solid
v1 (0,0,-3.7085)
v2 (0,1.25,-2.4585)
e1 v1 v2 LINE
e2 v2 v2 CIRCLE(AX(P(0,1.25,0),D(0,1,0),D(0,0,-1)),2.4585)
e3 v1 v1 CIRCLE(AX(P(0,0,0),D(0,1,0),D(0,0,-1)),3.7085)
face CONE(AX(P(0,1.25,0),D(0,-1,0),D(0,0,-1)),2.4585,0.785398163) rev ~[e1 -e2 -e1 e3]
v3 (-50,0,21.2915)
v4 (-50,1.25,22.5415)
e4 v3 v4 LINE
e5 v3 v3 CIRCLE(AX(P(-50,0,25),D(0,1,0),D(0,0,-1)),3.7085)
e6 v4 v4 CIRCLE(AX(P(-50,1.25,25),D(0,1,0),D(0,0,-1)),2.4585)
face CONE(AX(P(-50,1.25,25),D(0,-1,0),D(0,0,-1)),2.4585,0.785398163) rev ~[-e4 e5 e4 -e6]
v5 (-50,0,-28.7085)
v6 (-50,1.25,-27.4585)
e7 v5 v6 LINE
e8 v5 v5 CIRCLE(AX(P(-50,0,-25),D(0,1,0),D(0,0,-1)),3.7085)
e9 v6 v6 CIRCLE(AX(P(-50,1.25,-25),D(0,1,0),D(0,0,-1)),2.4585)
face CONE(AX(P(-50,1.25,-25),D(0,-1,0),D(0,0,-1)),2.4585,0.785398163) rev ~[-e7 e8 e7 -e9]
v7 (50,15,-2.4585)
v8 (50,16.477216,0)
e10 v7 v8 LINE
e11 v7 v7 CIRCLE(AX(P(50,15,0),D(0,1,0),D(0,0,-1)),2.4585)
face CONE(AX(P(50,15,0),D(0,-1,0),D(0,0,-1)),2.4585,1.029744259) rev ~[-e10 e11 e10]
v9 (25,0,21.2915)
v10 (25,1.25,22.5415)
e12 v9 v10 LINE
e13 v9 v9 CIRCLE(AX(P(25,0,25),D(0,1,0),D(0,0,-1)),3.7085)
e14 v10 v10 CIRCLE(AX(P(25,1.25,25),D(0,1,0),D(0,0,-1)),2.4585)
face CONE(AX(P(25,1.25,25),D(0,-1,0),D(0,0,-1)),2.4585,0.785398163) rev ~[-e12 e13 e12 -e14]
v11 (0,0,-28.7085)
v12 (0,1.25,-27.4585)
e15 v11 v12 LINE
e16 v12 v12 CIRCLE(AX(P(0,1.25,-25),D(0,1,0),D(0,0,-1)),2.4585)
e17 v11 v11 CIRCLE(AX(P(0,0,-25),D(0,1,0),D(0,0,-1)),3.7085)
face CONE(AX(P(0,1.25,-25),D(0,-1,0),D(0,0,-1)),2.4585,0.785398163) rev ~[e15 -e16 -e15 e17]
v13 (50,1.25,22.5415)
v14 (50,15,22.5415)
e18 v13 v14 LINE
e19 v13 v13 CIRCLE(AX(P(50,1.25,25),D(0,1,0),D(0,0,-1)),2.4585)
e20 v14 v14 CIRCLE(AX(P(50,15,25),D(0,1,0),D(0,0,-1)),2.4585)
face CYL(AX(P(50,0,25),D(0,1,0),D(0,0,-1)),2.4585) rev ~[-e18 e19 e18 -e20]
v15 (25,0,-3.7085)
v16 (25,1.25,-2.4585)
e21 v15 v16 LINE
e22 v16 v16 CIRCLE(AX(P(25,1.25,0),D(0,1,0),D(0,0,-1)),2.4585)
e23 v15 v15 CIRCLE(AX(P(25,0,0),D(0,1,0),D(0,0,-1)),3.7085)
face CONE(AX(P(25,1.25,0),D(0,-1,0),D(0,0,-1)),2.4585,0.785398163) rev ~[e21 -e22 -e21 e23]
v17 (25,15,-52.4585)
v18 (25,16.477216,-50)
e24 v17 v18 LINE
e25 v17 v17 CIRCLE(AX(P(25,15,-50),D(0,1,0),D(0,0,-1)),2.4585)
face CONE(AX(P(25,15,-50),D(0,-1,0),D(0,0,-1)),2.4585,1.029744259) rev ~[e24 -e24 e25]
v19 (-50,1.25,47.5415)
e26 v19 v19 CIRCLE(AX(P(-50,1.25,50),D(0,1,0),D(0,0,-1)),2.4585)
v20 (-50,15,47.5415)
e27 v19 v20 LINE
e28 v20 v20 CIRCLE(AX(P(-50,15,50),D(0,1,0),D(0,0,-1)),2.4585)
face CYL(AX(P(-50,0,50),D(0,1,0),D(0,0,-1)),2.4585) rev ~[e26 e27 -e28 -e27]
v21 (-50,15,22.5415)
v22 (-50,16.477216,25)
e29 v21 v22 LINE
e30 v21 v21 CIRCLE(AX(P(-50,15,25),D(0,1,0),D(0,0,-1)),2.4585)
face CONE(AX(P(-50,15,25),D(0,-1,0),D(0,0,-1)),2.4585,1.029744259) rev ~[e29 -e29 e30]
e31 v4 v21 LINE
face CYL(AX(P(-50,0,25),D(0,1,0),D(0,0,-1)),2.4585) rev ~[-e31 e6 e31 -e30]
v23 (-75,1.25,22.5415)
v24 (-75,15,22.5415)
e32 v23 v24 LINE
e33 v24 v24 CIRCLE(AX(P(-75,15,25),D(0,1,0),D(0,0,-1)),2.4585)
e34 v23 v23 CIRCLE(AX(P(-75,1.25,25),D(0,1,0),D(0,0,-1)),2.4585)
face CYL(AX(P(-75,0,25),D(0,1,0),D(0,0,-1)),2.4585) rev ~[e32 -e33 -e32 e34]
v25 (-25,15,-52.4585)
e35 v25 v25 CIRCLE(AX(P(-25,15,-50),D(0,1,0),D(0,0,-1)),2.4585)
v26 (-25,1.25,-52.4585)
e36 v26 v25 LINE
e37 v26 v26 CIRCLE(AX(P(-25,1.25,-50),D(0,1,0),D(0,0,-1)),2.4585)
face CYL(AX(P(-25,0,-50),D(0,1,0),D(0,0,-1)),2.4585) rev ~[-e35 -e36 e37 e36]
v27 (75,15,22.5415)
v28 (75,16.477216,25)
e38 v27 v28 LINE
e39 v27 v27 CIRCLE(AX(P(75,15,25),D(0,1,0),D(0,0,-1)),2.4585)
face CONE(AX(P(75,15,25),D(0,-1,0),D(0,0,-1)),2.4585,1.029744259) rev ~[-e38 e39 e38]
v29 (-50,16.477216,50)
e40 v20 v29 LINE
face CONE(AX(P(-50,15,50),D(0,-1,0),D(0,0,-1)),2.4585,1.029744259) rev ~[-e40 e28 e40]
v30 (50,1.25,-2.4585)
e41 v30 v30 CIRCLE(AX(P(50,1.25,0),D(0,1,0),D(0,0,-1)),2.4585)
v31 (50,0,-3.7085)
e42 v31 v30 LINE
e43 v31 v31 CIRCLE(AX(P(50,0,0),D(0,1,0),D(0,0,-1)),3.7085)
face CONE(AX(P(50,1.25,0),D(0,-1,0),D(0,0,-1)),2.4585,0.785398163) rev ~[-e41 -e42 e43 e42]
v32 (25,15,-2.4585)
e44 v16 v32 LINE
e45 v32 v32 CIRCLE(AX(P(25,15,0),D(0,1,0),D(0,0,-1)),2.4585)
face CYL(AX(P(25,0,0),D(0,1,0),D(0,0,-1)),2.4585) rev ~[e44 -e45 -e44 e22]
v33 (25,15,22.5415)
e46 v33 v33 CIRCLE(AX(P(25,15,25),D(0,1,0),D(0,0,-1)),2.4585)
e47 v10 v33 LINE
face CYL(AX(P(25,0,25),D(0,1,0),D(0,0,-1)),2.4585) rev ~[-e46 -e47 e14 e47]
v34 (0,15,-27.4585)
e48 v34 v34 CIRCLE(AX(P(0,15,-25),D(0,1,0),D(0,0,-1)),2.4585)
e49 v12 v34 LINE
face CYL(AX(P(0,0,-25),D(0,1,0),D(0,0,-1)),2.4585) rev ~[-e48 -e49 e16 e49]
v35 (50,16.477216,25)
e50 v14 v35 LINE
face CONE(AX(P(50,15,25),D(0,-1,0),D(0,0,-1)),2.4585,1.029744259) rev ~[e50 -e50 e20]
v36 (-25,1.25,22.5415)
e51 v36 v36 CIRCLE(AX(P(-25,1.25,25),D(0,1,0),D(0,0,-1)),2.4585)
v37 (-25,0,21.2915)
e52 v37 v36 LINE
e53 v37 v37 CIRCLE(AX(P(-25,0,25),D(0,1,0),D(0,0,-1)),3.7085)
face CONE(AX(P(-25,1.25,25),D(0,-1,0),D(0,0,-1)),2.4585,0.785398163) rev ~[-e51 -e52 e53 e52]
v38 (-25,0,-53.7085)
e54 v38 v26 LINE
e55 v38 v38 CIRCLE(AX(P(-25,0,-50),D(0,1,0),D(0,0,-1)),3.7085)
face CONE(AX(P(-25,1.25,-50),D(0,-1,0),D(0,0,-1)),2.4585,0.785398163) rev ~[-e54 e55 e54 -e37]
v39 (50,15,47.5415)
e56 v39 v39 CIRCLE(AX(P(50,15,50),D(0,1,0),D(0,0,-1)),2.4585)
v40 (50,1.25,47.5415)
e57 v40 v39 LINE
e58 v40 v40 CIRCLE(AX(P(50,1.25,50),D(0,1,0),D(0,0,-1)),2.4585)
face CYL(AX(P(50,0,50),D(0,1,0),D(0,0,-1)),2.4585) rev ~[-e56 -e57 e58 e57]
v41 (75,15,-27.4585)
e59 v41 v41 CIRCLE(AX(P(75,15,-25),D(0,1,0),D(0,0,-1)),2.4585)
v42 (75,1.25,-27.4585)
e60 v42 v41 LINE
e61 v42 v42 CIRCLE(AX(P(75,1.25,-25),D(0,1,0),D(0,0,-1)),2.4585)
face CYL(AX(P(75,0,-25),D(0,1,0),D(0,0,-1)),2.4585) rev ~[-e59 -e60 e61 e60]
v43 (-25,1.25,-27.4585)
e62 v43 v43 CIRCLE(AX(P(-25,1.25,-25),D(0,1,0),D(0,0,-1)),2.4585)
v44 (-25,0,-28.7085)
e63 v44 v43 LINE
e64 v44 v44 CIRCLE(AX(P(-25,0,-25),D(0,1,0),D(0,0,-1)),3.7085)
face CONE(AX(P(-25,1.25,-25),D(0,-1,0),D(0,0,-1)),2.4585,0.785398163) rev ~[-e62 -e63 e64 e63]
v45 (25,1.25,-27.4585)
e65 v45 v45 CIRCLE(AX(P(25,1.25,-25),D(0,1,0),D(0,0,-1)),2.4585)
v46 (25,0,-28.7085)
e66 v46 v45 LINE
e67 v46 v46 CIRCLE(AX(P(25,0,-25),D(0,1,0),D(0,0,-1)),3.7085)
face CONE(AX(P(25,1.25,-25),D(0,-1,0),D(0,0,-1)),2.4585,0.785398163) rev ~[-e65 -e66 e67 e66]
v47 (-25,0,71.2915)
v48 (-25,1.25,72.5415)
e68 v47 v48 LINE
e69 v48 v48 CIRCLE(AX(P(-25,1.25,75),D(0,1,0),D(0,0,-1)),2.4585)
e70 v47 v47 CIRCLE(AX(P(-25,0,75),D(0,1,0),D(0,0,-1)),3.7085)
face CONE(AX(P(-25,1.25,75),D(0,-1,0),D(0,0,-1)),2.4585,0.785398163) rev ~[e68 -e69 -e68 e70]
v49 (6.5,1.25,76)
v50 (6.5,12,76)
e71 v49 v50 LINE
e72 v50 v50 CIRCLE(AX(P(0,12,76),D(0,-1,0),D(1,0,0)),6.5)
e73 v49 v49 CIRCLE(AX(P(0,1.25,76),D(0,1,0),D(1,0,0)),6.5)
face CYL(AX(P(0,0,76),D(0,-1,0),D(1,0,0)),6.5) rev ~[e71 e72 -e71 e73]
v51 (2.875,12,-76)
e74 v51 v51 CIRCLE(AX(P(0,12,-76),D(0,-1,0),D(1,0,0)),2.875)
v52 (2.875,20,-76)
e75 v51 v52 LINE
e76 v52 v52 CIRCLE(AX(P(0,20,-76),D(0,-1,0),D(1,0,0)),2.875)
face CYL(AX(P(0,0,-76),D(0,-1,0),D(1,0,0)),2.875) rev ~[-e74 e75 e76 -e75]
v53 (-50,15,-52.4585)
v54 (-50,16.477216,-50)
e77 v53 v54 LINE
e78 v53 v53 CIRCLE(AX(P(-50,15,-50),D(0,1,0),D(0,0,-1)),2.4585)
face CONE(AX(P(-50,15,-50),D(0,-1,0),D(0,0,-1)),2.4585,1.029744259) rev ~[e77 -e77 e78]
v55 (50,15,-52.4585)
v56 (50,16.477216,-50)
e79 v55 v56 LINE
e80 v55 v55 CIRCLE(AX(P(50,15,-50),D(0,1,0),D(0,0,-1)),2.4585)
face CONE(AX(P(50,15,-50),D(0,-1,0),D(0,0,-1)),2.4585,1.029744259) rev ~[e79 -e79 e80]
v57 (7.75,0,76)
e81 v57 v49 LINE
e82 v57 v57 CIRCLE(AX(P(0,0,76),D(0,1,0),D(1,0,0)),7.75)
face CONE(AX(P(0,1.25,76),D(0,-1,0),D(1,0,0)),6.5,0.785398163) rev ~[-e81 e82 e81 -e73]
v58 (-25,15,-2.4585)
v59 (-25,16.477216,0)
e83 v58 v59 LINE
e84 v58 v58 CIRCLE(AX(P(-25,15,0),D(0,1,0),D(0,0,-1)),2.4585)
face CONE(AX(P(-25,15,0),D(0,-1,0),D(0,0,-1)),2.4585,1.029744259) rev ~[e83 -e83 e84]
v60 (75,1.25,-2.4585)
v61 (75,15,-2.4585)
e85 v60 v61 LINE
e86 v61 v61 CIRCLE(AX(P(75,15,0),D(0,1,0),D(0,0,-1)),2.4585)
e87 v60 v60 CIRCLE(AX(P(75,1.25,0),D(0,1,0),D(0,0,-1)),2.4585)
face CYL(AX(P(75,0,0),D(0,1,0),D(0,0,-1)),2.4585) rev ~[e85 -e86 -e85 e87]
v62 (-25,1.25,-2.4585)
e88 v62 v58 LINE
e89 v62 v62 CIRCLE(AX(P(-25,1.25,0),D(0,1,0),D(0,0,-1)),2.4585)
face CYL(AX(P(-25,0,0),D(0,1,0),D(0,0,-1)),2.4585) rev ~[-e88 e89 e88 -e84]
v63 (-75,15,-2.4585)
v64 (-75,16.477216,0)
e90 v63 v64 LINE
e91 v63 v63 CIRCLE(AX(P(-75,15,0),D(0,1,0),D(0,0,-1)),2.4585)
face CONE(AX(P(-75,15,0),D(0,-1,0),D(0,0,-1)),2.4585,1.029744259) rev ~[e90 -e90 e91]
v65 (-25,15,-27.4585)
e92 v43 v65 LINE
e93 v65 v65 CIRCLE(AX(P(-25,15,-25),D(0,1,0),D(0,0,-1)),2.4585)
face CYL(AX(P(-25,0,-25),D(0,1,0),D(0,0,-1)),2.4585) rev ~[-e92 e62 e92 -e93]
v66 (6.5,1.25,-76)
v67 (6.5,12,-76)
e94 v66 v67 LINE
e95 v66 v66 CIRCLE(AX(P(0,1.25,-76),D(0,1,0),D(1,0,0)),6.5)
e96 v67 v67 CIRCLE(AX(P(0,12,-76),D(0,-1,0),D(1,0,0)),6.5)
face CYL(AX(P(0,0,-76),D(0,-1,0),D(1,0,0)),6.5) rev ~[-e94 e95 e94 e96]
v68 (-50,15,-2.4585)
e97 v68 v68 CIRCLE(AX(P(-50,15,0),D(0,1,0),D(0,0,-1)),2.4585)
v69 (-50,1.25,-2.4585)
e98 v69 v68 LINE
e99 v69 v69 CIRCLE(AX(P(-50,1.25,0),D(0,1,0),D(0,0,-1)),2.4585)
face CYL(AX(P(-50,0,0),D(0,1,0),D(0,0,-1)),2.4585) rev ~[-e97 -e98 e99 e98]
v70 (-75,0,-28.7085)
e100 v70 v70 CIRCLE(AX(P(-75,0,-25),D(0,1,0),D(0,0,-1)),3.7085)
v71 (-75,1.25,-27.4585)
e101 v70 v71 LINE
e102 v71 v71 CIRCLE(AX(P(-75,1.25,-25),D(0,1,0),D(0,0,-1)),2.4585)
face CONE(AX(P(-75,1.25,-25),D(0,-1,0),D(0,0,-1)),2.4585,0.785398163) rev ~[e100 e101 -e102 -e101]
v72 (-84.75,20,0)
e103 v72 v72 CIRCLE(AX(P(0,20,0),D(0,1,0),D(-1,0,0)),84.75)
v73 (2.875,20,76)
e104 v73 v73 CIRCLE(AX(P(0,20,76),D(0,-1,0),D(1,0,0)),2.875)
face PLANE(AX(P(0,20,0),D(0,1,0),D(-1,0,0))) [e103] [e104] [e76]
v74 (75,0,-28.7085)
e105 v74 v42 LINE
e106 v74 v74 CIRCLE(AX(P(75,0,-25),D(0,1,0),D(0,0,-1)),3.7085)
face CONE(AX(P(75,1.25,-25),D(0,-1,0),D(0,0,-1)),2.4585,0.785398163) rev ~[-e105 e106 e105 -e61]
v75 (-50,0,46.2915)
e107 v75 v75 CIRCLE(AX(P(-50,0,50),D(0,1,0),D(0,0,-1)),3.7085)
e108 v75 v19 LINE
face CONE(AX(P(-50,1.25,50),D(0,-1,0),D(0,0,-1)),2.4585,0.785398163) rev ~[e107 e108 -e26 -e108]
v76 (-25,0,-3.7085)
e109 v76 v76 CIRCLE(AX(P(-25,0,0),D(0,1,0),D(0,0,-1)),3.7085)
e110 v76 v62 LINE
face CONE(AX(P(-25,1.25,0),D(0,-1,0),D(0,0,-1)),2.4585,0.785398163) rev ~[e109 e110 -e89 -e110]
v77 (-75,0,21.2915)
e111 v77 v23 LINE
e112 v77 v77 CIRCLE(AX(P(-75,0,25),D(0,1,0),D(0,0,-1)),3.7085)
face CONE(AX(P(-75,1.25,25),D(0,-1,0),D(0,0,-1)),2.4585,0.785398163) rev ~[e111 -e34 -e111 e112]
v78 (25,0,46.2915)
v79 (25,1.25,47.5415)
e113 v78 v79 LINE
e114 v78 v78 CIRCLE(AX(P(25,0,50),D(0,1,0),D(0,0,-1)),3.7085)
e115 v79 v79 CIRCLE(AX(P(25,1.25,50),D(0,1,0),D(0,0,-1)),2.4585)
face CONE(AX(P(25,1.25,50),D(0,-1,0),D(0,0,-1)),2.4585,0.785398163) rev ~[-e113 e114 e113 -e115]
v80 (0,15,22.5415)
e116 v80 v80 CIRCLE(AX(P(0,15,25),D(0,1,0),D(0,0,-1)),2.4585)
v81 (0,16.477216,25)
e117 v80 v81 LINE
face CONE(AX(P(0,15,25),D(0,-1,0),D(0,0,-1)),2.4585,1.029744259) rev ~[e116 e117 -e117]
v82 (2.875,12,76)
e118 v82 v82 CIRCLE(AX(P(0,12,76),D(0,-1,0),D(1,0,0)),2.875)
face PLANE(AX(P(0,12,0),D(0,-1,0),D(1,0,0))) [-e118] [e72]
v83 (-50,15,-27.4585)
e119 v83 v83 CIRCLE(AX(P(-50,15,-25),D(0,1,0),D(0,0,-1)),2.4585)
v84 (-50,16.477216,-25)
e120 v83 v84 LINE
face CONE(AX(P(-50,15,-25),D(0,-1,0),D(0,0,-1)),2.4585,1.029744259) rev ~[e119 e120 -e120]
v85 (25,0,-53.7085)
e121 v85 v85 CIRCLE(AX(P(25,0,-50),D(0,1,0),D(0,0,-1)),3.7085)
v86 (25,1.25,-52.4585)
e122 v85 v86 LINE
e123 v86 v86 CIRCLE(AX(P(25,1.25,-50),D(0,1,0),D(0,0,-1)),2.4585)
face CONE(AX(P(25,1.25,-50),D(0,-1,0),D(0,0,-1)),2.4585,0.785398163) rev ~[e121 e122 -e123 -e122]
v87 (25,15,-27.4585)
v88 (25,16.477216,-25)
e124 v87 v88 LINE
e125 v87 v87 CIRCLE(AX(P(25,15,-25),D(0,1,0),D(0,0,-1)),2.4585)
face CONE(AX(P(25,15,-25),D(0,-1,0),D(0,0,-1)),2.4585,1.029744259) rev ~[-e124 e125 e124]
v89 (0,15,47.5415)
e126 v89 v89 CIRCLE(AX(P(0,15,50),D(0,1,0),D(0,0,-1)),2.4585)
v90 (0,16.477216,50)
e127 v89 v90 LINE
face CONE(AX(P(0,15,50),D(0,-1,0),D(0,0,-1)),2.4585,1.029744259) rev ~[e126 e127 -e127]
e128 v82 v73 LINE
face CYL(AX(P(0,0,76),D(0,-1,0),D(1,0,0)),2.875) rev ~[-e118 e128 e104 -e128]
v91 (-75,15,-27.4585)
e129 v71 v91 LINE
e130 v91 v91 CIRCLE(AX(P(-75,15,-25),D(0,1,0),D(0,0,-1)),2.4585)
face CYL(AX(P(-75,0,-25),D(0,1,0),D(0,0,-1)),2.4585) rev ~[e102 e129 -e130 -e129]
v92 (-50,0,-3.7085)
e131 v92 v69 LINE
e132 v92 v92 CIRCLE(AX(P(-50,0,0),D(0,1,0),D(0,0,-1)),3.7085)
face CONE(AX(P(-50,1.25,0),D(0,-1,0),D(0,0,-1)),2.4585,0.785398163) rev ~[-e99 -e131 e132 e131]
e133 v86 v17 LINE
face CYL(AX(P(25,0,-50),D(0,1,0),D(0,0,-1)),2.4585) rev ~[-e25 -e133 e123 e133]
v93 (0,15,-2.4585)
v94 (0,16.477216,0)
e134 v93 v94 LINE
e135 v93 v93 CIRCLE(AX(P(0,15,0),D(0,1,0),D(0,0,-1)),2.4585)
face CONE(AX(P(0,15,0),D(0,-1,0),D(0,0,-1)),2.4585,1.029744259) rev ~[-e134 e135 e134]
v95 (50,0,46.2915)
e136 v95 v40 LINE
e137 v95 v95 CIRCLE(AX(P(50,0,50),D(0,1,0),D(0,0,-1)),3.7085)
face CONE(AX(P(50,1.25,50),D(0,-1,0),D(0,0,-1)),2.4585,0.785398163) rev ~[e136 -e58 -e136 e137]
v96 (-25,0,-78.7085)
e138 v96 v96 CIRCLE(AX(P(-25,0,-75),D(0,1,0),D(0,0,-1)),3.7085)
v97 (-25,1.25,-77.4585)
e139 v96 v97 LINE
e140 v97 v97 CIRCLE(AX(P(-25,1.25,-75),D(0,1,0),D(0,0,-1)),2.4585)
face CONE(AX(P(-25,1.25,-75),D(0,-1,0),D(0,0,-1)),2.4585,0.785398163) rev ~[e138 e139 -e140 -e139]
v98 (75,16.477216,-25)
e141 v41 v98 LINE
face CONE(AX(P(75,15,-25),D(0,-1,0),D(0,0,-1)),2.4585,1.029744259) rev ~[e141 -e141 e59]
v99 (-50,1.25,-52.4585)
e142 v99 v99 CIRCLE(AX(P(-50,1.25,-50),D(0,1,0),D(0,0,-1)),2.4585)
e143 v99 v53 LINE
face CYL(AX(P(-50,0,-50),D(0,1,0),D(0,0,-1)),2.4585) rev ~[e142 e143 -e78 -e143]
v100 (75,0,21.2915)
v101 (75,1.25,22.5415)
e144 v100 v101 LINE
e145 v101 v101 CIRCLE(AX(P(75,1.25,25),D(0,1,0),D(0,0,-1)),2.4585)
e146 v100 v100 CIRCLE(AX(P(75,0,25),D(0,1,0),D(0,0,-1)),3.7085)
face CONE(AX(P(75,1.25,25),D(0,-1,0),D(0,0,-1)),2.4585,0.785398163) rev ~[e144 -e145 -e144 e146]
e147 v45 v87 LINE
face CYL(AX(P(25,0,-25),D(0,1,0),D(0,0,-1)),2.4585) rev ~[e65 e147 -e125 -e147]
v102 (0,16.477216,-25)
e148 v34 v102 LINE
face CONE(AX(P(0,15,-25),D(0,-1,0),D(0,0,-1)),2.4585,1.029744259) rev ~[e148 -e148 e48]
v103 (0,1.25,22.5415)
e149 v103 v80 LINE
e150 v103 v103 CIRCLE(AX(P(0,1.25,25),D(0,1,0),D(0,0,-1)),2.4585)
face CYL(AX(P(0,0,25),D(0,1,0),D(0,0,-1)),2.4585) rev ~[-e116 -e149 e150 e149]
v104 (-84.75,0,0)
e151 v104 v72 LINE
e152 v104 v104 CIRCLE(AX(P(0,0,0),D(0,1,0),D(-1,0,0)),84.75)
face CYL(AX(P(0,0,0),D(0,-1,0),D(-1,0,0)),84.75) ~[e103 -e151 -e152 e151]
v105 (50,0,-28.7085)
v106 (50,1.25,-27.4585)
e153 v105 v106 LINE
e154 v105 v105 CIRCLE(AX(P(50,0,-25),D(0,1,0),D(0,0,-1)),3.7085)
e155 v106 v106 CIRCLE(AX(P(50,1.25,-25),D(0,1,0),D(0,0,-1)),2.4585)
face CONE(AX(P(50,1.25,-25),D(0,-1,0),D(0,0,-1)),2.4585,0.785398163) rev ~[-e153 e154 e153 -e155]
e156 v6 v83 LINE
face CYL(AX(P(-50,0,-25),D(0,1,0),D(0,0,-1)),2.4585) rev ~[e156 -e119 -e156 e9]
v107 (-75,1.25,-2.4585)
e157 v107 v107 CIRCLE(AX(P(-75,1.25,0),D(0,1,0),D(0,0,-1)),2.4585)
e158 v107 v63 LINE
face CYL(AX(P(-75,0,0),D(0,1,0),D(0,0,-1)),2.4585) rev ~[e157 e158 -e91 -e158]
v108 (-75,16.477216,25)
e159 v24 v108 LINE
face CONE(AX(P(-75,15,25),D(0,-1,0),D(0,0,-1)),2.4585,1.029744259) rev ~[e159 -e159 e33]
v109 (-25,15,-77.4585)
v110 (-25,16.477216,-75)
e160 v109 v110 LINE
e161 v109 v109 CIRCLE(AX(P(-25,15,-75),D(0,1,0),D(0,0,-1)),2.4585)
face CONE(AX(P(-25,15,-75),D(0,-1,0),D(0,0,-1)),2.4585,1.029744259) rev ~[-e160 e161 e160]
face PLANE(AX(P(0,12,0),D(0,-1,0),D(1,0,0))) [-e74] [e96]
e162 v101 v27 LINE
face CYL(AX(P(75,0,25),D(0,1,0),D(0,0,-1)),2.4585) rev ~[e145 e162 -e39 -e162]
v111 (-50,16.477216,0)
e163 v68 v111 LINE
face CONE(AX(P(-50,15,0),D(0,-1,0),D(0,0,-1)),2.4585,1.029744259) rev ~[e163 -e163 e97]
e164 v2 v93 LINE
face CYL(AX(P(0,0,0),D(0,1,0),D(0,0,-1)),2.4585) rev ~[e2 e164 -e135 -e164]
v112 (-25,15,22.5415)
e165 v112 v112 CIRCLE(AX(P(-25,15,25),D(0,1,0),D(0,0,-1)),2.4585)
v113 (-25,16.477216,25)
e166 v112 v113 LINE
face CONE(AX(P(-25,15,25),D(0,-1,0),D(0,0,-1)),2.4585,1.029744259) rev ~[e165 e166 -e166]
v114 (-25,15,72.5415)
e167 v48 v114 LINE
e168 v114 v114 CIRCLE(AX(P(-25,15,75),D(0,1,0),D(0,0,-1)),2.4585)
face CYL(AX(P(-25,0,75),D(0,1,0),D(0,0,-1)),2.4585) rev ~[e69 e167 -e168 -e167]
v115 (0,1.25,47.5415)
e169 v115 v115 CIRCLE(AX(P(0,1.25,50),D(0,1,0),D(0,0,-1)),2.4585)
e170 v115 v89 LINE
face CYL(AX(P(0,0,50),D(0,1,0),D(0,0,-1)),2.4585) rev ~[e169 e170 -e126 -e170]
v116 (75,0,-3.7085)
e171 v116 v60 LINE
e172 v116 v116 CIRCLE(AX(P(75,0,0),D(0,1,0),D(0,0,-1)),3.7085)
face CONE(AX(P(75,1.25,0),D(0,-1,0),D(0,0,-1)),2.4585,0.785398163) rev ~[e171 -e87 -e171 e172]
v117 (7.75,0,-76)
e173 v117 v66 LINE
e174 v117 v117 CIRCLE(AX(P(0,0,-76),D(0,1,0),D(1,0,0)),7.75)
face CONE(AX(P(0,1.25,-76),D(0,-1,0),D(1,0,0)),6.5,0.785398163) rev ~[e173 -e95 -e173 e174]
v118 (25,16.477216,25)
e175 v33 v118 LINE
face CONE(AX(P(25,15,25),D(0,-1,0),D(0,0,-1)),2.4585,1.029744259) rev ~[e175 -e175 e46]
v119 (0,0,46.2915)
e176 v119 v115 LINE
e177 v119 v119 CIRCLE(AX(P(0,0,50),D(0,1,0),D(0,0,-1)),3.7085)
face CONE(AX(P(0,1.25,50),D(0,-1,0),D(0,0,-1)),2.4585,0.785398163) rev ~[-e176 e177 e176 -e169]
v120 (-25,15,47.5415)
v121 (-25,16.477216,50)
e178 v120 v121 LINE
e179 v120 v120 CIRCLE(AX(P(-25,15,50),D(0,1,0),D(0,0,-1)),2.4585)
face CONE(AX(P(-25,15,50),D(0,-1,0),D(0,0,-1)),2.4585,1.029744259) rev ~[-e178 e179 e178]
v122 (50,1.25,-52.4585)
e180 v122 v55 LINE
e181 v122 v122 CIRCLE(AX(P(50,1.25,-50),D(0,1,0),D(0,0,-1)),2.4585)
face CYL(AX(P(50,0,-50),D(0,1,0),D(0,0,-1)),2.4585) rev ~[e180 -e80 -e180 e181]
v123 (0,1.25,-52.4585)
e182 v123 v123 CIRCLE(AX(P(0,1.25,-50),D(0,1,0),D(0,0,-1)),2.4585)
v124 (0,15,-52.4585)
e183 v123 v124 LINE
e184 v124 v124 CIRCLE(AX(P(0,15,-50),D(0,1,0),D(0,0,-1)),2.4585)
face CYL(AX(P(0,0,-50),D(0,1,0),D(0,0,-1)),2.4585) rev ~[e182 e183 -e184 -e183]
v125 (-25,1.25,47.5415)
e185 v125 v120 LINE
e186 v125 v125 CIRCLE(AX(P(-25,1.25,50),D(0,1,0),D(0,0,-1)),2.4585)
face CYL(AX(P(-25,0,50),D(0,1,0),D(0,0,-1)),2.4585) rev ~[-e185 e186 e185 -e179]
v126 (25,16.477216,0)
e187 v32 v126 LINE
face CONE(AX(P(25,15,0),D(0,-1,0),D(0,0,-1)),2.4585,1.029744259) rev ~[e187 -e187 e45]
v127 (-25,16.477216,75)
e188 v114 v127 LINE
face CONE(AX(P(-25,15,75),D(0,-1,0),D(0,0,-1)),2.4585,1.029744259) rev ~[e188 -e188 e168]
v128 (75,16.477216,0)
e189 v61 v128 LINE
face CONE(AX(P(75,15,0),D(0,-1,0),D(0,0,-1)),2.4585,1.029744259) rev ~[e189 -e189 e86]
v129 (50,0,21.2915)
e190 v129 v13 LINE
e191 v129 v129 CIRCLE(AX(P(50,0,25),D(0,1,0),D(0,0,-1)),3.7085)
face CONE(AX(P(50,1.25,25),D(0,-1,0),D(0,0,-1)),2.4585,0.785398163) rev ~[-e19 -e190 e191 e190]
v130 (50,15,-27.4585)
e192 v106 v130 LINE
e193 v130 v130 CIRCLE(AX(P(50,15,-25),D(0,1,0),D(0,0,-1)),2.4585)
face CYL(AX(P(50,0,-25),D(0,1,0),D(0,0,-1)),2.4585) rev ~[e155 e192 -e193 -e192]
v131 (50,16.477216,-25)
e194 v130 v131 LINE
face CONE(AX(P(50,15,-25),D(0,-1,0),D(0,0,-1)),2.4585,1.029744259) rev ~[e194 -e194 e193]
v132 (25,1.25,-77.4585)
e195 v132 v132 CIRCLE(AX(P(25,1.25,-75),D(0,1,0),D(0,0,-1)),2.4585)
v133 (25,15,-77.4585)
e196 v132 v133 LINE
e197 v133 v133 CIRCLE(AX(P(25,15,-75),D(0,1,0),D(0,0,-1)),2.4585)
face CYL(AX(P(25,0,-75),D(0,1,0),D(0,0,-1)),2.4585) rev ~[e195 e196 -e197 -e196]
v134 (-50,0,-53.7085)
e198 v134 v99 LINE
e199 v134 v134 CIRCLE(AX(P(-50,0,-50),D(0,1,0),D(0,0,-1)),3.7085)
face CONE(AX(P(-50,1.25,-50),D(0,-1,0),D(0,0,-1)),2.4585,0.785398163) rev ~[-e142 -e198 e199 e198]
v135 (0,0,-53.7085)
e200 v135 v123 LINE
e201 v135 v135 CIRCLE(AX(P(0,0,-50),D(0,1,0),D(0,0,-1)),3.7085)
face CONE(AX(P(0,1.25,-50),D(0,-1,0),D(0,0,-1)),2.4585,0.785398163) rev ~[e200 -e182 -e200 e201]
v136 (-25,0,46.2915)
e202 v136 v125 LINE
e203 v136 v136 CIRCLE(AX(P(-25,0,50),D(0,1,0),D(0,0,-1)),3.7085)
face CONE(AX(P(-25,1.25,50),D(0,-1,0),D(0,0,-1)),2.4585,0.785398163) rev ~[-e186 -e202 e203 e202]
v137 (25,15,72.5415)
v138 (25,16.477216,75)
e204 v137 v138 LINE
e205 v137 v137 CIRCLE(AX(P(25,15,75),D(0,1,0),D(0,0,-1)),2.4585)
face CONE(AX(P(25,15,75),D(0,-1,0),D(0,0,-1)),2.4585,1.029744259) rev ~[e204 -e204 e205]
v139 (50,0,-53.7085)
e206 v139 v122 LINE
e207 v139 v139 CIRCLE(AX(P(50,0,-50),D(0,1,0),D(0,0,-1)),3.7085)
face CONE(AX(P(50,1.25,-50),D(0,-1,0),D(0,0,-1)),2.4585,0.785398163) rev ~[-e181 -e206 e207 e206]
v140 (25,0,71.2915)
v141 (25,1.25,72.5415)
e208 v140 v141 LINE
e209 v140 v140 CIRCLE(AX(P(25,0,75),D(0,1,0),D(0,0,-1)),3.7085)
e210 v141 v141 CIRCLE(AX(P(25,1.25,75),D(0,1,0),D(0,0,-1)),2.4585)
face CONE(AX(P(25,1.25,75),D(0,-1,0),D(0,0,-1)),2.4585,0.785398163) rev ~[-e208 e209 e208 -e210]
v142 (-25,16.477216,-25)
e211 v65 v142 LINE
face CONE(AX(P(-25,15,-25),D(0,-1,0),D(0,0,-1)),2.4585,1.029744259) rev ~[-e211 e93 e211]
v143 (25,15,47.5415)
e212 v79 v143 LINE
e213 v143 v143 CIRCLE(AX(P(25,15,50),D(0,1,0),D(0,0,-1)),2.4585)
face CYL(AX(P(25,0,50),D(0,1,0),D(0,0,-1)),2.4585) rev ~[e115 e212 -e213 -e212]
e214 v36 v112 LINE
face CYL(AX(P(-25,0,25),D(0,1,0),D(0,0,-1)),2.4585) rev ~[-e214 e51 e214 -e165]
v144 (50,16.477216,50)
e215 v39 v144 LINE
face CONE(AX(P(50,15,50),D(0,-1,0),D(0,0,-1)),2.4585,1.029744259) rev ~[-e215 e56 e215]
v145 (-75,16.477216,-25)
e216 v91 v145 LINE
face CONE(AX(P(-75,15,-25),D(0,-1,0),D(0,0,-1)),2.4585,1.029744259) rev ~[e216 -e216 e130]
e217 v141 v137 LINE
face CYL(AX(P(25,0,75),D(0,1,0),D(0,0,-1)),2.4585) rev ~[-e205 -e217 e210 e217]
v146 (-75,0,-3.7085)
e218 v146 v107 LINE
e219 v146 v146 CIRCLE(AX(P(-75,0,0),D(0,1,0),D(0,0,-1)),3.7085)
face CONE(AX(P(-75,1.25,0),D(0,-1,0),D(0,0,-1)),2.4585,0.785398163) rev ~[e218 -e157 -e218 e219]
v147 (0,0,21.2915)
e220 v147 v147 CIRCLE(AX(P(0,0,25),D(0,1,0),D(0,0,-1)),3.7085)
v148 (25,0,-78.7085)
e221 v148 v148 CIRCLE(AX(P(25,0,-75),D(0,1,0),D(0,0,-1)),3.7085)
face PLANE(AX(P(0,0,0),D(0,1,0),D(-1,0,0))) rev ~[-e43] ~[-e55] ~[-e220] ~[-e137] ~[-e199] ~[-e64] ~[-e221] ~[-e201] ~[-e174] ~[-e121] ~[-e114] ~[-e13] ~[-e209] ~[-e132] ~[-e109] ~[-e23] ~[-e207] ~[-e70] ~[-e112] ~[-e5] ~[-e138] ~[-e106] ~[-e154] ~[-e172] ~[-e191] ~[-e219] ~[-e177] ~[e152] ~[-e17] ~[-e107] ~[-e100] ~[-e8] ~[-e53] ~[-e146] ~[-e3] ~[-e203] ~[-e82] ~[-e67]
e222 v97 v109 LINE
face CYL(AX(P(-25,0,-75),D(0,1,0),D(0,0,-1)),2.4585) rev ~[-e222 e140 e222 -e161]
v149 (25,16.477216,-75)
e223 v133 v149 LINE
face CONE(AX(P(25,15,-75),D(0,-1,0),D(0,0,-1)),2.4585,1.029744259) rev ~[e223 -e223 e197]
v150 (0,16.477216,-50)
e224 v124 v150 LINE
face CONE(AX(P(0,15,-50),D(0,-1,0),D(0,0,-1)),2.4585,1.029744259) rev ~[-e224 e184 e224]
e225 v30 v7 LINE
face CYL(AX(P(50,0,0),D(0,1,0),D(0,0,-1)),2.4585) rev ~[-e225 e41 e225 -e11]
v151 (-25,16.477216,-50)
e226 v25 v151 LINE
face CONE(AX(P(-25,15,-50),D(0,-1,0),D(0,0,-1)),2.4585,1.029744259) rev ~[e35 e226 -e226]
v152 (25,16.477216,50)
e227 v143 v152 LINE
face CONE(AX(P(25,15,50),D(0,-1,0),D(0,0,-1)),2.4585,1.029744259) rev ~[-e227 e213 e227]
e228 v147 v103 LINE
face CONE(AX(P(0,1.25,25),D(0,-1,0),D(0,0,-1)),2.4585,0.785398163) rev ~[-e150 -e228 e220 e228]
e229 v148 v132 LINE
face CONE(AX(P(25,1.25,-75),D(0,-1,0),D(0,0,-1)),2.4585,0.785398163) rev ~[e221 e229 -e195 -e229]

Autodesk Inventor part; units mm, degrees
ref_plane "YZ Plane" through (0, 0, 0) normal (1, 0, 0) x (0, 1, 0)
ref_plane "XZ Plane" through (0, 0, 0) normal (0, 1, 0) x (-1, 0, 0)
ref_plane "XY Plane" through (0, 0, 0) normal (0, 0, 1) x (1, 0, 0)
sketch "Sketch1" plane through (0, 0, 0) normal (0, 1, 0) x (-1, 0, 0)
  circle A0 centre (0, 0) radius 84.75
  dimension "d0" = 169.5
extrude "Extrusion1" add sketch "Sketch1" along normal blind 20
sketch "Sketch2" plane through (0, 0, 0) normal (0, -1, 0) x (1, 0, 0)
  circle A0 centre (0, 0) radius 76
  circle A1 centre (0, 76) radius 6.5
  circle A2 centre (0, -76) radius 6.5
  circle A3 centre (0, 76) radius 2.875
  circle A4 centre (0, -76) radius 2.875
  dimension "d3" = 152
  dimension "d4" = 13
  dimension "d5" = 13
  dimension "d6" = 5.75
  dimension "d7" = 5.75
extrude "Extrusion2" cut sketch "Sketch2" against normal through all contours A3 A0 | A0 A3 | A4 A0 | A0 A4
extrude "Extrusion3" cut sketch "Sketch2" against normal blind 12 contours A1 A0 A3 | A0 A3 A1 | A2 A0 A4 | A0 A4 A2 | A3 A0 | A0 A3 | A4 A0 | A0 A4
sketch "Sketch3" plane through (0, 0, 0) normal (0, -1, 0) x (1, 0, 0)
  circle A0 centre (0, 0) radius 84.75 projected
  line L0 (59.9273, -59.9273) -> (59.9273, 59.9273)
  line L1 (59.9273, 59.9273) -> (-59.9273, 59.9273)
  line L2 (-59.9273, 59.9273) -> (-59.9273, -59.9273)
  line L3 (-59.9273, -59.9273) -> (59.9273, -59.9273)
  circle A1 centre (0, 0) radius 3
  circle A2 centre (-25, 0) radius 3
  circle A3 centre (-50, 0) radius 3
  circle A4 centre (0, 25) radius 3
  circle A5 centre (-25, 25) radius 3
  circle A6 centre (-50, 25) radius 3
  circle A7 centre (0, 50) radius 3
  circle A8 centre (-25, 50) radius 3
  circle A9 centre (-50, 50) radius 3
  line L4 (0, -59.9273) -> (0, 59.9273)
  line L5 (-59.9273, 0) -> (59.9273, 0)
  circle A10 centre (0, 0) radius 3
  circle A11 centre (25, 0) radius 3
  circle A12 centre (50, 0) radius 3
  circle A13 centre (0, 25) radius 3
  circle A14 centre (25, 25) radius 3
  circle A15 centre (50, 25) radius 3
  circle A16 centre (0, 50) radius 3
  circle A17 centre (25, 50) radius 3
  circle A18 centre (50, 50) radius 3
  circle A19 centre (0, 0) radius 3
  circle A20 centre (-25, 0) radius 3
  circle A21 centre (-50, 0) radius 3
  circle A22 centre (0, -50) radius 3
  circle A23 centre (50, 0) radius 3
  circle A24 centre (50, -25) radius 3
  circle A25 centre (50, -50) radius 3
  circle A26 centre (25, 0) radius 3
  circle A27 centre (25, -25) radius 3
  circle A28 centre (25, -50) radius 3
  circle A29 centre (0, 0) radius 3
  circle A30 centre (0, -25) radius 3
  circle A31 centre (0, -50) radius 3
  circle A32 centre (-25, 0) radius 3
  circle A33 centre (-50, 0) radius 3
  circle A34 centre (-25, -25) radius 3
  circle A35 centre (-50, -25) radius 3
  circle A36 centre (-25, -50) radius 3
  circle A37 centre (-50, -50) radius 3
  circle A38 centre (-25, 0) radius 3
  circle A39 centre (-50, 0) radius 3
  circle A40 centre (-75, -25) radius 3
  circle A41 centre (-50, 0) radius 3
  circle A42 centre (-75, 0) radius 3
  circle A43 centre (-50, 25) radius 3
  circle A44 centre (-75, 25) radius 3
  circle A45 centre (75, -25) radius 3
  circle A46 centre (75, 0) radius 3
  circle A47 centre (75, 25) radius 3
  circle A48 centre (0, -50) radius 3
  circle A49 centre (-25, -50) radius 3
  circle A50 centre (25, -75) radius 3
  circle A51 centre (0, -75) radius 3
  circle A52 centre (-25, -75) radius 3
  circle A53 centre (25, 75) radius 3
  circle A54 centre (-25, 75) radius 3
  dimension "d16" = 6
  dimension "d19" = 25
  dimension "d22" = 25
  dimension "d34" = 25
  dimension "d37" = 25
  dimension "d42" = 25
  dimension "d45" = 25
hole "Hole1" at (-50, 0, -50) at (-50, 0, -25) at (-25, 0, -50) at (0, 0, -50) at (25, 0, -50) at (50, 0, -50) at (50, 0, -25) at (25, 0, -25) at (0, 0, -25) at (-25, 0, -25) at (-50, 0, 0) at (-25, 0, 0) at (0, 0, 0) at (25, 0, 0) at (50, 0, 0) at (50, 0, 25) at (25, 0, 25) at (0, 0, 25) at (-25, 0, 25) at (-50, 0, 25) at (-50, 0, 50) at (-25, 0, 50) at (0, 0, 50) at (25, 0, 50) at (50, 0, 50) at (25, 0, -75) at (-25, 0, -75) at (-25, 0, 75) at (25, 0, 75) at (75, 0, 25) at (75, 0, 0) at (75, 0, -25) at (-75, 0, -25) at (-75, 0, 0) at (-75, 0, 25) direction (0, 1, 0) diameter 4.917 depth 15 tip angle 118 thread size "M6x1" class "6H" standard "ANSI Metric M Profile"
chamfer "Chamfer2" distance 1.25 angle 45 37 edges at (50, 0, -47.5415) (25, 0, -72.5415) (25, 0, -47.5415) (75, 0, -22.5415) (50, 0, -22.5415) (75, 0, 2.4585) (25, 0, -22.5415) (-25, 0, -72.5415) (0, 0, -47.5415) (-25, 0, -47.5415) (-50, 0, -47.5415) (0, 0, -22.5415) (-25, 0, -22.5415) (-50, 0, -22.5415) (-75, 0, -22.5415) (-75, 0, 2.4585) (50, 0, 2.4585) (75, 0, 27.4585) (50, 0, 27.4585) (25, 0, 2.4585) (25, 0, 27.4585) (50, 0, 52.4585) (25, 0, 52.4585) (25, 0, 77.4585) (0, 0, 2.4585) (-25, 0, 2.4585) (0, 0, 27.4585) (-25, 0, 27.4585) (-50, 0, 2.4585) (-50, 0, 27.4585) (-75, 0, 27.4585) (0, 0, 52.4585) (-25, 0, 52.4585) (-25, 0, 77.4585) (-50, 0, 52.4585) (-6.5, 0, 76) (-6.5, 0, -76)
properties part number "substrate plate With Lots of holes"
